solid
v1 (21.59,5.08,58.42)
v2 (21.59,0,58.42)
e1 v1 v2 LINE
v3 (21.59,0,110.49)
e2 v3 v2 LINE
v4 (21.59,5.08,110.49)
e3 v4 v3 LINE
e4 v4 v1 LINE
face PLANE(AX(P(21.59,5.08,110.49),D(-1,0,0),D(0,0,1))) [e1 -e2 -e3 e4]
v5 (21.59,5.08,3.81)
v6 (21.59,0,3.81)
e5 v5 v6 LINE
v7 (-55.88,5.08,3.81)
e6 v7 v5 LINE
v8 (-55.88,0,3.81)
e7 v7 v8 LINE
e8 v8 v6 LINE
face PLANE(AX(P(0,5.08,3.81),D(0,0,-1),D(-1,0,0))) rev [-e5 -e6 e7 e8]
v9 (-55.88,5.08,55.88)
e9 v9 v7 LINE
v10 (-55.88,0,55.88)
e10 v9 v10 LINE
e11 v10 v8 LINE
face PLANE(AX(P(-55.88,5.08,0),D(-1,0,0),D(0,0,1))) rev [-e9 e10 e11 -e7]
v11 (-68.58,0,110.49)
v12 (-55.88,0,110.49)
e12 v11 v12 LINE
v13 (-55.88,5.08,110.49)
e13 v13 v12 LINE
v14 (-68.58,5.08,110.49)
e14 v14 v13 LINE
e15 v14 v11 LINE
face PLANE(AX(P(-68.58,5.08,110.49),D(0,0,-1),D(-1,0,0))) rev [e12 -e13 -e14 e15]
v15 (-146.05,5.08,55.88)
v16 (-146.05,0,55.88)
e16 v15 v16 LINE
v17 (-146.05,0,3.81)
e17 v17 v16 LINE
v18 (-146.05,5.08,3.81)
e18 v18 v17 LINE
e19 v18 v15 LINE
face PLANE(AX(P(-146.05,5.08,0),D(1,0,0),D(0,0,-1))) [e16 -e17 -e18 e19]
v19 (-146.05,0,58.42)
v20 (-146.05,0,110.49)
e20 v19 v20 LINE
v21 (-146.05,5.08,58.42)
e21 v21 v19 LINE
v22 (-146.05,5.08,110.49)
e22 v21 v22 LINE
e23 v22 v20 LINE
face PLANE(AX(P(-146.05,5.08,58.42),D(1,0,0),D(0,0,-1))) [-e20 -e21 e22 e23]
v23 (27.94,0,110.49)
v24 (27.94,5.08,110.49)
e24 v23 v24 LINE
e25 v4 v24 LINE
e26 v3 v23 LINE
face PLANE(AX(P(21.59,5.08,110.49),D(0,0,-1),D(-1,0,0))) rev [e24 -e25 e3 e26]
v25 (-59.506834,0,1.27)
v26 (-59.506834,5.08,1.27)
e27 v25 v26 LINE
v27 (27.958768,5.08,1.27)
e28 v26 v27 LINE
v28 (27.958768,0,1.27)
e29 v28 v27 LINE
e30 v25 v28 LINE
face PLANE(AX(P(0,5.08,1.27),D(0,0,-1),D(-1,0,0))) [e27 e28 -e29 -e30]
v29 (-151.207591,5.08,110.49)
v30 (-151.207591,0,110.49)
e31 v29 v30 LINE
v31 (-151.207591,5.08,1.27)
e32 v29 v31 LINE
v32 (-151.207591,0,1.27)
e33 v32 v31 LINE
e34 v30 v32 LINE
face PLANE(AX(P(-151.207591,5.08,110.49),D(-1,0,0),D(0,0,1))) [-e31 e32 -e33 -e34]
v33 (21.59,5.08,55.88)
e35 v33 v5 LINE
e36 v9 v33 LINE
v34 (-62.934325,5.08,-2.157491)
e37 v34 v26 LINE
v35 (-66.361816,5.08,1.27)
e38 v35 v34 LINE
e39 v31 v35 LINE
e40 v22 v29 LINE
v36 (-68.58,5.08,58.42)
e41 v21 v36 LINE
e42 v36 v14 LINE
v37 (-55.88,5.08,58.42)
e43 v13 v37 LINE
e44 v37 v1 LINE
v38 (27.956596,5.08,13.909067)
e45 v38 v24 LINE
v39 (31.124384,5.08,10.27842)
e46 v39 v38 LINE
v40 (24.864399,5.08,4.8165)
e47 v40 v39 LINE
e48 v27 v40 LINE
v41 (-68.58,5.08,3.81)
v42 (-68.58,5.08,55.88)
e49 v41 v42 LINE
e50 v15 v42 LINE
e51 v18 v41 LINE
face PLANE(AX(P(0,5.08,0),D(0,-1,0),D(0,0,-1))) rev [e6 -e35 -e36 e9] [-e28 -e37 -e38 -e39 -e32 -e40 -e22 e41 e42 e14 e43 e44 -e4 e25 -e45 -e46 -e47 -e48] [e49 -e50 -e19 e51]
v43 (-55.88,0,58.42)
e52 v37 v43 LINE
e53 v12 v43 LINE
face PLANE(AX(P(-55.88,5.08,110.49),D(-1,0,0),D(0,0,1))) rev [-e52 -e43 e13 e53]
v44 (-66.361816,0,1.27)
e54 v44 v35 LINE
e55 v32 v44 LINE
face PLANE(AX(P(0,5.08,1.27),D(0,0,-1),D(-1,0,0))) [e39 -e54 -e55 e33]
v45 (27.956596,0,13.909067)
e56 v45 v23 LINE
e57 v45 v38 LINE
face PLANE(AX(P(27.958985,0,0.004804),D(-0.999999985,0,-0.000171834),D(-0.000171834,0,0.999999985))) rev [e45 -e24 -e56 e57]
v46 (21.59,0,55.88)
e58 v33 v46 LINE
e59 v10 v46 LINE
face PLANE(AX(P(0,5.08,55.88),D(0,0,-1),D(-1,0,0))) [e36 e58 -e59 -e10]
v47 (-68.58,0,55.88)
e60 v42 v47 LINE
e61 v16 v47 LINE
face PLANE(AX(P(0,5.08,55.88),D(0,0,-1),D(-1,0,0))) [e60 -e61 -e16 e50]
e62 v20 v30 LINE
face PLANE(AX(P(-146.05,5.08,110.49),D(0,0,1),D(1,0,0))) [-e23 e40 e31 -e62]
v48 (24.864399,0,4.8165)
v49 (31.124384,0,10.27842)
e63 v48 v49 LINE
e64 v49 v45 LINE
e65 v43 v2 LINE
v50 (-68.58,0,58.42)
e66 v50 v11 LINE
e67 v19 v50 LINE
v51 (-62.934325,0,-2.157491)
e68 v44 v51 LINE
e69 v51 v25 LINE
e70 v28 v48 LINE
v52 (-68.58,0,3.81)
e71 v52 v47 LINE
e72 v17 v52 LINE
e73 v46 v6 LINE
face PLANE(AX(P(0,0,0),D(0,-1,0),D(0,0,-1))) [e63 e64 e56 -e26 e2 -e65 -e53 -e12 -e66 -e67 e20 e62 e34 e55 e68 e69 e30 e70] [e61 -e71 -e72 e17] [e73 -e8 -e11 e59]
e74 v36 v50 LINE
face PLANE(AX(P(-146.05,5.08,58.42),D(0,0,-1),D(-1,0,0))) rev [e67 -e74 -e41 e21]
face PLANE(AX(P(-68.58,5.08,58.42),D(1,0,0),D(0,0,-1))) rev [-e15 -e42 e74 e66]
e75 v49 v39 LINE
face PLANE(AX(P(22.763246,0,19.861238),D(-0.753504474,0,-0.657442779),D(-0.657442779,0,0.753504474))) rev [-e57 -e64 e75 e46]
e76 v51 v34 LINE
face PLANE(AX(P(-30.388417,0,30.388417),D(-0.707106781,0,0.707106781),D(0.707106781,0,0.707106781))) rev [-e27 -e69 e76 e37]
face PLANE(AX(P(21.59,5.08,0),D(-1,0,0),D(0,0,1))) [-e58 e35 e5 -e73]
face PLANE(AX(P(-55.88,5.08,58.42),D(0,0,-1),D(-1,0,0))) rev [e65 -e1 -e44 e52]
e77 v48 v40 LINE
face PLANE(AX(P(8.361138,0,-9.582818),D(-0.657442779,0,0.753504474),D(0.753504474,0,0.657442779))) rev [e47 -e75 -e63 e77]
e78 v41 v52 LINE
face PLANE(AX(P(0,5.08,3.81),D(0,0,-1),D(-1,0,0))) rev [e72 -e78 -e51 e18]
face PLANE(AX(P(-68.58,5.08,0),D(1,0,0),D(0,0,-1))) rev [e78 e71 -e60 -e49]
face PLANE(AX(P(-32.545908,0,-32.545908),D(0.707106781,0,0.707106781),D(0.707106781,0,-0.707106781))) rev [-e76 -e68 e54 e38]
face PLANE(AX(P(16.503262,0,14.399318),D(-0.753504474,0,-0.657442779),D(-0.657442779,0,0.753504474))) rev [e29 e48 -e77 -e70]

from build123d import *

# Parameters (mm, degrees)
SKETCH1_W           = 77.47
SKETCH1_H           = 52.07
BOSS_EXTRUDE4_DEPTH = 5.08
CUT_EXTRUDE9_DEPTH  = 5.08
CUT_EXTRUDE10_DEPTH = 5.08


with BuildPart() as part:
    # Sketch1 → Boss-Extrude4 (new body)
    with BuildSketch(Plane(origin=(0, 0, 0), x_dir=(1, 0, 0), z_dir=(0, 1, 0))):
        Polygon((-151.207591036, -110.49), (-146.05, -110.49), (-146.05, -58.42), (-68.58, -58.42), (-68.58, -110.49), (-55.88, -110.49), (-55.88, -58.42), (21.59, -58.42), (21.59, -110.49), (34.29, -110.49), (34.29, -58.42), (111.76, -58.42), (111.76, -110.49), (151.052408964, -110.49), (151.052408964, 110.49), (-151.207591036, 110.49), align=None)
        with Locations((-107.315, -29.845)):
            Rectangle(SKETCH1_W, SKETCH1_H, mode=Mode.SUBTRACT)
        with Locations((-17.145, -29.845)):
            Rectangle(SKETCH1_W, SKETCH1_H, mode=Mode.SUBTRACT)
        with Locations((73.025, -29.845)):
            Rectangle(SKETCH1_W, SKETCH1_H, mode=Mode.SUBTRACT)
        with Locations((-107.315, 24.765)):
            Rectangle(SKETCH1_W, SKETCH1_H, mode=Mode.SUBTRACT)
        with Locations((-17.145, 24.765)):
            Rectangle(SKETCH1_W, SKETCH1_H, mode=Mode.SUBTRACT)
        with Locations((-107.315, 79.375)):
            Rectangle(SKETCH1_W, SKETCH1_H, mode=Mode.SUBTRACT)
        with Locations((-17.145, 79.375)):
            Rectangle(SKETCH1_W, SKETCH1_H, mode=Mode.SUBTRACT)
        with Locations((73.025, 24.765)):
            Rectangle(SKETCH1_W, SKETCH1_H, mode=Mode.SUBTRACT)
        with Locations((73.025, 79.375)):
            Rectangle(SKETCH1_W, SKETCH1_H, mode=Mode.SUBTRACT)
    extrude(amount=BOSS_EXTRUDE4_DEPTH)

    # Sketch8 → Cut-Extrude9 (cut)
    # profile 1 of 7: a face of its own
    with BuildSketch(Plane(origin=(0, 5.08, 0), x_dir=(1, 0, 0), z_dir=(0, 1, 0))):
        Polygon((118.11, 79.293589744), (111.76, 76.362820513), (111.76, 76.982301683), (113.79525641, 77.921063702), (113.79525641, 80.799679487), (111.76, 81.765154247), (111.76, 82.387179487), (118.11, 79.375), align=None)
        Polygon((116.872309696, 79.340655048), (114.446538462, 80.49057492), (114.446538462, 78.221264022), align=None, mode=Mode.SUBTRACT)
    # profile 2 of 7: a face of its own
    with BuildSketch(Plane(origin=(0, 5.08, 0), x_dir=(1, 0, 0), z_dir=(0, 1, 0))):
        with BuildLine():
            Line((118.11, 26.474615385), (118.11, 25.235653045))
            add(Edge.make_bspline(
                [(118.11, 25.235653045), (118.109681139, 25.175004234), (118.109063106, 25.057451746), (118.099477996, 24.886510758), (118.086408481, 24.726402202), (118.065671027, 24.577079644), (118.040648803, 24.438612083), (118.010346937, 24.310582227), (117.974012938, 24.193397201), (117.916234684, 24.053492664), (117.830376936, 23.893979465), (117.703506539, 23.721262382), (117.548326213, 23.573571833), (117.37327911, 23.4462338), (117.180718496, 23.344994626), (116.975233967, 23.271753187), (116.75947595, 23.225383899), (116.611351899, 23.220615168), (116.536492388, 23.218205128)],
                knots=[0, 0, 0, 0, 1.001505555, 1.941167018, 2.826882275, 3.653841531, 4.429895133, 5.150066043, 5.825578002, 6.45369114, 7.647487171, 8.808567382, 9.977351308, 11.170798116, 12.373658725, 13.556498008, 14.765093433, 16, 16, 16, 16], degree=3))
            add(Edge.make_bspline(
                [(116.536492388, 23.218205128), (116.466353726, 23.220150205), (116.328524642, 23.223972465), (116.12725909, 23.261767034), (115.934882118, 23.318037757), (115.753765338, 23.399726219), (115.586236491, 23.504802861), (115.433291194, 23.631250472), (115.29863595, 23.781802882), (115.223670167, 23.894781468), (115.185590946, 23.952169471)],
                knots=[0, 0, 0, 0, 1.044266239, 2.052081639, 3.041743201, 4.026043445, 5.00270663, 5.980942822, 6.97441044, 8, 8, 8, 8], degree=3))
            add(Edge.make_bspline(
                [(115.185590946, 23.952169471), (115.157917248, 23.880020614), (115.10497061, 23.741981978), (115.010852235, 23.551885993), (114.90963819, 23.387448746), (114.798522364, 23.248489243), (114.677253559, 23.131437365), (114.548260115, 23.026322349), (114.405191505, 22.938259533), (114.252121508, 22.862606152), (114.090124446, 22.803067733), (113.919941192, 22.760940396), (113.743474705, 22.735055197), (113.623194862, 22.731525492), (113.562473958, 22.72974359)],
                knots=[0, 0, 0, 0, 1.272302504, 2.434229863, 3.488457646, 4.447234501, 5.35599188, 6.26022912, 7.18267843, 8.11661068, 9.06895546, 10.019249207, 11.000057067, 12, 12, 12, 12], degree=3))
            add(Edge.make_bspline(
                [(113.562473958, 22.72974359), (113.500485842, 22.731516424), (113.378522486, 22.735004524), (113.199347436, 22.7607231), (113.028142769, 22.804311677), (112.863691196, 22.864204763), (112.70692357, 22.942816916), (112.555876508, 23.036423505), (112.414573802, 23.150354586), (112.279655118, 23.277346904), (112.158418428, 23.421179366), (112.05048411, 23.576340817), (111.961311987, 23.745062992), (111.887341532, 23.924729456), (111.830014808, 24.116534097), (111.790215937, 24.31976575), (111.763336967, 24.53446858), (111.761131196, 24.681807332), (111.76, 24.757367788)],
                knots=[0, 0, 0, 0, 0.978404568, 1.925038397, 2.85041836, 3.763147166, 4.682162379, 5.614488577, 6.562659439, 7.54271123, 8.535210642, 9.526693784, 10.520907202, 11.541451354, 12.589717429, 13.675358278, 14.807842563, 16, 16, 16, 16], degree=3))
            Line((111.76, 24.757367788), (111.76, 26.474615385))
            Line((111.76, 26.474615385), (118.11, 26.474615385))
        make_face()
        with BuildLine():
            Line((117.458717949, 25.90474359), (115.423461538, 25.90474359))
            Line((115.423461538, 25.90474359), (115.423461538, 25.521860978))
            add(Edge.make_bspline(
                [(115.423461538, 25.521860978), (115.424181075, 25.465891945), (115.425571367, 25.357748368), (115.429679415, 25.200723225), (115.440678409, 25.055331233), (115.452311659, 24.921071395), (115.470224485, 24.798843581), (115.49214475, 24.688238604), (115.515124768, 24.588262886), (115.554315522, 24.473021329), (115.611648095, 24.342338932), (115.702715767, 24.203911992), (115.808237502, 24.079896012), (115.932241327, 23.976344233), (116.067626032, 23.890895914), (116.214403686, 23.833871415), (116.366844139, 23.793424687), (116.471770578, 23.789877771), (116.525044071, 23.788076923)],
                knots=[0, 0, 0, 0, 1.156481963, 2.23455883, 3.244418989, 4.168404366, 5.01828131, 5.794834307, 6.498111525, 7.13526334, 8.307595709, 9.435046769, 10.546766856, 11.659452936, 12.760769924, 13.837671619, 14.902137667, 16, 16, 16, 16], degree=3))
            add(Edge.make_bspline(
                [(116.525044071, 23.788076923), (116.56030457, 23.788977603), (116.629471889, 23.790744385), (116.729913527, 23.8068242), (116.82558773, 23.830156168), (116.914294057, 23.866607821), (116.998553798, 23.910685404), (117.074624411, 23.96802234), (117.1466735, 24.032775181), (117.212055599, 24.108821091), (117.270638216, 24.195791849), (117.322185781, 24.294516129), (117.362847974, 24.406172748), (117.399324126, 24.528230019), (117.4246346, 24.66264136), (117.445797527, 24.808093389), (117.456555228, 24.965820019), (117.457980962, 25.074940101), (117.458717949, 25.131346154)],
                knots=[0, 0, 0, 0, 0.911752476, 1.788502045, 2.626783689, 3.45400582, 4.26402138, 5.080402872, 5.911472738, 6.767166405, 7.66795952, 8.620018292, 9.640966946, 10.73819047, 11.913090943, 13.176185384, 14.540321519, 16, 16, 16, 16], degree=3))
            Line((117.458717949, 25.131346154), (117.458717949, 25.90474359))
        make_face(mode=Mode.SUBTRACT)
        with BuildLine():
            Line((114.772179487, 25.90474359), (112.411282051, 25.90474359))
            Line((112.411282051, 25.90474359), (112.411282051, 25.093185096))
            add(Edge.make_bspline(
                [(112.411282051, 25.093185096), (112.411975847, 25.035093328), (112.413313047, 24.923129104), (112.417726104, 24.761477849), (112.427553327, 24.612056238), (112.443574322, 24.47477829), (112.460221531, 24.348435585), (112.483262073, 24.23428334), (112.509456384, 24.132146551), (112.549993321, 24.013731405), (112.612860676, 23.880302727), (112.708268617, 23.736613475), (112.820435778, 23.607586425), (112.95189156, 23.499274679), (113.093745082, 23.409835086), (113.245254404, 23.347105881), (113.401797428, 23.306771901), (113.508807295, 23.302005692), (113.562473958, 23.299615385)],
                knots=[0, 0, 0, 0, 1.159821618, 2.235403267, 3.228114831, 4.14795534, 4.994323282, 5.771256229, 6.471395042, 7.097801288, 8.267864287, 9.404187171, 10.531774336, 11.667624178, 12.792825787, 13.866573821, 14.930062559, 16, 16, 16, 16], degree=3))
            add(Edge.make_bspline(
                [(113.562473958, 23.299615385), (113.596030503, 23.300103956), (113.662602321, 23.301073218), (113.760357737, 23.31624054), (113.855472736, 23.337399943), (113.946509043, 23.368040578), (114.034948011, 23.406675936), (114.119249173, 23.455161844), (114.2014282, 23.511153881), (114.305201688, 23.598743929), (114.42480707, 23.726024945), (114.541892162, 23.906931894), (114.636322991, 24.112618706), (114.676417579, 24.261803289), (114.697129407, 24.338868189)],
                knots=[0, 0, 0, 0, 0.723503378, 1.435336582, 2.130201219, 2.824764462, 3.504949994, 4.209866579, 4.920640069, 5.648298893, 7.13757748, 8.670694625, 10.280166878, 12, 12, 12, 12], degree=3))
            add(Edge.make_bspline(
                [(114.697129407, 24.338868189), (114.703398338, 24.369763806), (114.716990673, 24.436751875), (114.731329404, 24.545986183), (114.744191712, 24.671110852), (114.753456167, 24.811591078), (114.763401398, 24.967985569), (114.767131466, 25.140244081), (114.771684212, 25.328488394), (114.772010172, 25.459103286), (114.772179487, 25.526949119)],
                knots=[0, 0, 0, 0, 0.634452549, 1.375623993, 2.216454381, 3.166361212, 4.209414599, 5.370755378, 6.634280627, 8, 8, 8, 8], degree=3))
            Line((114.772179487, 25.526949119), (114.772179487, 25.90474359))
        make_face(mode=Mode.SUBTRACT)
    # profile 3 of 7: a face of its own
    with BuildSketch(Plane(origin=(0, 5.08, 0), x_dir=(1, 0, 0), z_dir=(0, 1, 0))):
        with BuildLine():
            Line((116.944815705, -32.938589744), (116.563205128, -32.439951923))
            add(Edge.make_bspline(
                [(116.563205128, -32.439951923), (116.605597673, -32.40438124), (116.689811221, -32.333719444), (116.808065537, -32.220037748), (116.918855368, -32.10156191), (117.022708493, -31.978337218), (117.115993196, -31.848145673), (117.203570769, -31.714141081), (117.282070808, -31.574081771), (117.377253654, -31.380403623), (117.476578821, -31.127042527), (117.559860398, -30.808100462), (117.612875959, -30.475158898), (117.618617886, -30.248014681), (117.621538462, -30.132479968)],
                knots=[0, 0, 0, 0, 0.757959112, 1.505699292, 2.245454638, 2.979532153, 3.711538275, 4.438200793, 5.171680507, 5.909471876, 7.393775596, 8.890124382, 10.418191784, 12, 12, 12, 12], degree=3))
            add(Edge.make_bspline(
                [(117.621538462, -30.132479968), (117.620802251, -30.068829613), (117.619336663, -29.942119638), (117.600137483, -29.754060275), (117.572842033, -29.56915638), (117.533326202, -29.388095544), (117.481880175, -29.211237272), (117.421547717, -29.037234935), (117.346470096, -28.868137816), (117.263556886, -28.701910874), (117.169880198, -28.542661658), (117.067735433, -28.391952614), (116.958125128, -28.250472259), (116.84133222, -28.117828549), (116.715905207, -27.995476207), (116.58331959, -27.881454356), (116.441979536, -27.777817938), (116.294535759, -27.682020268), (116.140771545, -27.596777475), (115.9816542, -27.523166197), (115.817792087, -27.46007521), (115.648849522, -27.409690045), (115.475491338, -27.369948117), (115.297349628, -27.342492588), (115.114770175, -27.323466123), (114.991019157, -27.322014016), (114.928639824, -27.321282051)],
                knots=[0, 0, 0, 0, 1.055000685, 2.100209969, 3.131349012, 4.153242145, 5.170189196, 6.184191144, 7.204341339, 8.235672124, 9.263040994, 10.265373269, 11.252624173, 12.22887325, 13.193405896, 14.155809299, 15.126090485, 16.097288279, 17.069732292, 18.038585918, 19.002221264, 19.978698174, 20.959418239, 21.948869816, 22.966084182, 24, 24, 24, 24], degree=3))
            add(Edge.make_bspline(
                [(114.928639824, -27.321282051), (114.834784429, -27.323571352), (114.650511811, -27.328066089), (114.380599417, -27.368068066), (114.122026195, -27.428855875), (113.876408481, -27.519961279), (113.640717603, -27.632300128), (113.418941397, -27.774250951), (113.207728487, -27.938655241), (113.012070568, -28.12783883), (112.833338524, -28.335403668), (112.675948183, -28.55810345), (112.544748325, -28.795383515), (112.435571964, -29.044623973), (112.351649044, -29.307742779), (112.29256842, -29.584266778), (112.254029036, -29.873594541), (112.250339344, -30.071296166), (112.248461538, -30.171913061)],
                knots=[0, 0, 0, 0, 1.029171465, 2.020641659, 2.987623507, 3.938342917, 4.889210282, 5.84687017, 6.821220943, 7.821438502, 8.827599549, 9.822697543, 10.807740252, 11.797342354, 12.80366471, 13.83203677, 14.896651826, 16, 16, 16, 16], degree=3))
            add(Edge.make_bspline(
                [(112.248461538, -30.171913061), (112.251525467, -30.282770797), (112.257556013, -30.50096534), (112.308644936, -30.820947331), (112.391481444, -31.127263648), (112.507410532, -31.41993077), (112.658114697, -31.698123628), (112.840809417, -31.962277569), (113.057232535, -32.212615561), (113.222483354, -32.363149173), (113.306794872, -32.439951923)],
                knots=[0, 0, 0, 0, 1.028121516, 2.023589091, 2.998037872, 3.967518031, 4.937445131, 5.927275754, 6.942489185, 8, 8, 8, 8], degree=3))
            Line((113.306794872, -32.439951923), (112.929000401, -32.938589744))
            add(Edge.make_bspline(
                [(112.929000401, -32.938589744), (112.877223407, -32.898461226), (112.773917427, -32.818396404), (112.628282924, -32.688750355), (112.491292127, -32.552178781), (112.36407883, -32.407649584), (112.243987323, -32.256891333), (112.135043577, -32.097248498), (112.033928993, -31.93147842), (111.942568033, -31.758615962), (111.860652906, -31.579228654), (111.791497891, -31.393503181), (111.731069307, -31.20301302), (111.681684053, -31.007662239), (111.643076564, -30.806798224), (111.617282312, -30.601110145), (111.599606535, -30.390163816), (111.597995761, -30.247848605), (111.597179487, -30.175729167)],
                knots=[0, 0, 0, 0, 0.986756325, 1.968786143, 2.935506311, 3.899499537, 4.868307269, 5.8376204, 6.809456583, 7.792545619, 8.781780509, 9.778496008, 10.776623214, 11.79151764, 12.812666265, 13.856269958, 14.913646641, 16, 16, 16, 16], degree=3))
            add(Edge.make_bspline(
                [(111.597179487, -30.175729167), (111.597654817, -30.107432799), (111.598594721, -29.97238519), (111.613820511, -29.772997455), (111.634593605, -29.578887787), (111.665872129, -29.390610966), (111.702782574, -29.207139554), (111.752260425, -29.030136779), (111.807685342, -28.857860898), (111.872827246, -28.691004051), (111.946335178, -28.52942431), (112.029414149, -28.373642823), (112.121365532, -28.223731239), (112.220162479, -28.07821569), (112.328978441, -27.939245788), (112.446302192, -27.805617249), (112.571738298, -27.676580756), (112.662189246, -27.596747314), (112.707666266, -27.556608574)],
                knots=[0, 0, 0, 0, 1.114604814, 2.203992996, 3.262667896, 4.300477797, 5.318619304, 6.316056647, 7.298880507, 8.271930387, 9.238335007, 10.195173496, 11.151986948, 12.108099108, 13.064862484, 14.031167946, 15.010108607, 16, 16, 16, 16], degree=3))
            add(Edge.make_bspline(
                [(112.707666266, -27.556608574), (112.786662423, -27.492318192), (112.943701026, -27.364513598), (113.198219878, -27.200999858), (113.463955057, -27.061032151), (113.742302642, -26.947864409), (114.032638045, -26.859394879), (114.335107621, -26.798106139), (114.649428887, -26.758279657), (114.86321849, -26.753725276), (114.971889022, -26.751410256)],
                knots=[0, 0, 0, 0, 0.994628077, 1.977248131, 2.950237994, 3.925870899, 4.908910175, 5.911660606, 6.938484602, 8, 8, 8, 8], degree=3))
            add(Edge.make_bspline(
                [(114.971889022, -26.751410256), (115.086103424, -26.754244442), (115.310813128, -26.759820525), (115.640671219, -26.806804203), (115.956243845, -26.883302707), (116.258745252, -26.988641657), (116.546444643, -27.127611896), (116.820557094, -27.295846609), (117.080858784, -27.494989044), (117.324021732, -27.72253816), (117.546337205, -27.97213776), (117.741930009, -28.239412742), (117.904702809, -28.523860895), (118.040767384, -28.82234304), (118.145350881, -29.137095699), (118.218563099, -29.467446937), (118.264132722, -29.812776116), (118.269893457, -30.048383659), (118.272820513, -30.168096955)],
                knots=[0, 0, 0, 0, 1.032901378, 2.032168977, 3.007206631, 3.966850309, 4.924221947, 5.891988639, 6.871730993, 7.884084801, 8.900290346, 9.89161143, 10.874607481, 11.860025555, 12.854717796, 13.869097222, 14.917278314, 16, 16, 16, 16], degree=3))
            add(Edge.make_bspline(
                [(118.272820513, -30.168096955), (118.27194643, -30.24105764), (118.270216271, -30.385475968), (118.253322795, -30.599110851), (118.225211517, -30.807112405), (118.186697164, -31.009983654), (118.139491479, -31.208460249), (118.077695589, -31.40050597), (118.005935411, -31.587166578), (117.925394904, -31.768581871), (117.833318651, -31.942778105), (117.733314188, -32.109723579), (117.623073079, -32.267404402), (117.506239897, -32.418786561), (117.378444314, -32.560461963), (117.243848093, -32.696476823), (117.098457292, -32.822132675), (116.996123317, -32.89969966), (116.944815705, -32.938589744)],
                knots=[0, 0, 0, 0, 1.096705196, 2.170817488, 3.219277236, 4.250701065, 5.274195539, 6.284202015, 7.28098643, 8.279664616, 9.266225751, 10.241373748, 11.203306326, 12.157093976, 13.114198862, 14.069774147, 15.032234603, 16, 16, 16, 16], degree=3))
        make_face()
    # profile 4 of 7: a face of its own
    with BuildSketch(Plane(origin=(0, 5.08, 0), x_dir=(1, 0, 0), z_dir=(0, 1, 0))):
        with BuildLine():
            Line((111.76, -82.012692308), (118.11, -82.012692308))
            Line((118.11, -82.012692308), (118.11, -83.294903846))
            add(Edge.make_bspline(
                [(118.11, -83.294903846), (118.10919924, -83.406426385), (118.107652175, -83.62188735), (118.097786915, -83.933238257), (118.080511466, -84.220906485), (118.054862343, -84.484728674), (118.024076207, -84.725128674), (117.984923928, -84.941721457), (117.938878197, -85.134858028), (117.899605318, -85.253638066), (117.881033654, -85.309807692)],
                knots=[0, 0, 0, 0, 1.314317071, 2.539253741, 3.67075822, 4.709970291, 5.662644612, 6.526156501, 7.303037452, 8, 8, 8, 8], degree=3))
            add(Edge.make_bspline(
                [(117.881033654, -85.309807692), (117.853037914, -85.383276673), (117.797681284, -85.528548601), (117.693258165, -85.735390771), (117.574941266, -85.930107124), (117.44258475, -86.11375686), (117.2924032, -86.282089414), (117.130916153, -86.441891296), (116.951524797, -86.585988874), (116.760320009, -86.720164865), (116.555362101, -86.837571052), (116.340810785, -86.941109671), (116.117067511, -87.029513574), (115.882503759, -87.098492965), (115.639371325, -87.15548169), (115.385829701, -87.193719768), (115.123356971, -87.219119775), (114.945238152, -87.221659883), (114.854861779, -87.222948718)],
                knots=[0, 0, 0, 0, 0.98467389, 1.947018643, 2.898343565, 3.837828625, 4.779009928, 5.722093987, 6.681368302, 7.658573986, 8.646467994, 9.637429229, 10.641859304, 11.657149908, 12.698561448, 13.768651538, 14.867827761, 16, 16, 16, 16], degree=3))
            add(Edge.make_bspline(
                [(114.854861779, -87.222948718), (114.776373797, -87.221806822), (114.621705032, -87.219556598), (114.39375275, -87.199375846), (114.172580583, -87.169987158), (113.959159893, -87.124695693), (113.752052982, -87.069043404), (113.552243376, -87.000351318), (113.359584615, -86.918944546), (113.175646042, -86.82449634), (113.000731948, -86.721221421), (112.837852299, -86.607986514), (112.683909336, -86.491289421), (112.545846691, -86.362132049), (112.415768103, -86.229414775), (112.300701958, -86.08609986), (112.195636064, -85.936856417), (112.101337325, -85.778809783), (112.019522725, -85.608171823), (111.94943361, -85.422613554), (111.891722261, -85.221141181), (111.843495333, -85.004063511), (111.805260876, -84.770955192), (111.779629867, -84.521602395), (111.762298604, -84.256383924), (111.760781079, -84.074267288), (111.76, -83.980530849)],
                knots=[0, 0, 0, 0, 1.105818345, 2.179130549, 3.222742436, 4.24813173, 5.251184997, 6.243232575, 7.223185975, 8.195898781, 9.155064964, 10.083206407, 10.990357329, 11.874224667, 12.744762365, 13.607037788, 14.46074101, 15.315384698, 16.197310979, 17.123950979, 18.107232398, 19.148086642, 20.256146639, 21.433991621, 22.679261309, 24, 24, 24, 24], degree=3))
            Line((111.76, -83.980530849), (111.76, -82.012692308))
        make_face()
        with BuildLine():
            Line((112.411282051, -82.582564103), (112.411282051, -83.311440304))
            add(Edge.make_bspline(
                [(112.411282051, -83.311440304), (112.411732169, -83.416176063), (112.41259791, -83.617621283), (112.420194693, -83.907286506), (112.432607922, -84.171953411), (112.449979849, -84.411659579), (112.472964337, -84.626269665), (112.498590946, -84.816232183), (112.53051775, -84.980924438), (112.559457347, -85.08058213), (112.572830529, -85.126634615)],
                knots=[0, 0, 0, 0, 1.375205317, 2.645023457, 3.804390687, 4.853969522, 5.800190428, 6.637939096, 7.370582563, 8, 8, 8, 8], degree=3))
            add(Edge.make_bspline(
                [(112.572830529, -85.126634615), (112.593242549, -85.184599298), (112.633579048, -85.299144178), (112.707184232, -85.464010709), (112.794265109, -85.61784952), (112.891632722, -85.763227177), (113.000795015, -85.899202305), (113.122082386, -86.02517169), (113.254153497, -86.142030641), (113.397503093, -86.248500834), (113.551204387, -86.34363756), (113.713300631, -86.426559757), (113.883400607, -86.496918019), (114.062117399, -86.554129451), (114.249282549, -86.598465023), (114.444403664, -86.63000926), (114.647541614, -86.649619319), (114.785702691, -86.651909464), (114.856133814, -86.653076923)],
                knots=[0, 0, 0, 0, 0.998463025, 1.973077781, 2.929496817, 3.867873318, 4.813809365, 5.759268434, 6.706333209, 7.676553387, 8.657505312, 9.640584699, 10.632319813, 11.645628493, 12.686877747, 13.755137172, 14.855624085, 16, 16, 16, 16], degree=3))
            add(Edge.make_bspline(
                [(114.856133814, -86.653076923), (114.930398398, -86.652144681), (115.07629183, -86.650313282), (115.290366967, -86.627332533), (115.49623045, -86.593678155), (115.694030492, -86.545268959), (115.88350975, -86.482728451), (116.065738702, -86.407893664), (116.238372234, -86.317032486), (116.402872487, -86.214168026), (116.556748208, -86.098683831), (116.698196661, -85.971092184), (116.827481331, -85.832738462), (116.94480806, -85.684260293), (117.048090353, -85.523581703), (117.139968669, -85.353421689), (117.218033951, -85.17138332), (117.259539698, -85.044720759), (117.280633013, -84.980350561)],
                knots=[0, 0, 0, 0, 1.122272916, 2.204715076, 3.251197285, 4.274229216, 5.279697671, 6.265416158, 7.248880903, 8.225321784, 9.195852973, 10.153576302, 11.101466393, 12.055578741, 13.010401466, 13.985536859, 14.976245305, 16, 16, 16, 16], degree=3))
            add(Edge.make_bspline(
                [(117.280633013, -84.980350561), (117.295358532, -84.927099195), (117.326669026, -84.813872182), (117.36082363, -84.629106297), (117.390948936, -84.421161669), (117.416454236, -84.189115068), (117.434755519, -83.933231006), (117.448492047, -83.653312687), (117.457756937, -83.349239119), (117.458389591, -83.138450807), (117.458717949, -83.029048478)],
                knots=[0, 0, 0, 0, 0.674548936, 1.434276114, 2.292660221, 3.240891867, 4.284742987, 5.42552168, 6.663806718, 8, 8, 8, 8], degree=3))
            Line((117.458717949, -83.029048478), (117.458717949, -82.582564103))
            Line((117.458717949, -82.582564103), (112.411282051, -82.582564103))
        make_face(mode=Mode.SUBTRACT)
    # profile 5 of 7: a face of its own
    with BuildSketch(Plane(origin=(0, 5.08, 0), x_dir=(1, 0, 0), z_dir=(0, 1, 0))):
        with BuildLine():
            Line((-108.006987179, 107.852307692), (-108.291923077, 107.852307692))
            add(Edge.make_bspline(
                [(-108.291923077, 107.852307692), (-108.284203699, 107.884268588), (-108.269112946, 107.946749526), (-108.23763729, 108.03601897), (-108.203347966, 108.120495307), (-108.162173564, 108.198596746), (-108.117262051, 108.271892893), (-108.065806439, 108.338721313), (-108.010180691, 108.400781646), (-107.948653773, 108.455857226), (-107.884129915, 108.50572988), (-107.815699939, 108.548252254), (-107.7447406, 108.584832021), (-107.670760258, 108.614967517), (-107.593538659, 108.637669242), (-107.513773929, 108.654140059), (-107.43125704, 108.664836284), (-107.375243154, 108.66588019), (-107.346800881, 108.666410256)],
                knots=[0, 0, 0, 0, 1.162005537, 2.271625781, 3.343758855, 4.383309926, 5.390229558, 6.379919256, 7.361854164, 8.333198761, 9.295911338, 10.242430842, 11.177959212, 12.116337295, 13.062827104, 14.020064771, 14.994644689, 16, 16, 16, 16], degree=3))
            add(Edge.make_bspline(
                [(-107.346800881, 108.666410256), (-107.305360108, 108.665159098), (-107.223382505, 108.662684071), (-107.102947456, 108.640083118), (-106.986808841, 108.604318891), (-106.876237881, 108.554903438), (-106.773532588, 108.493954947), (-106.682150476, 108.421415507), (-106.603330184, 108.338684712), (-106.53720457, 108.247305886), (-106.485429392, 108.14964696), (-106.447251039, 108.049135389), (-106.424008514, 107.9460096), (-106.420996295, 107.876379783), (-106.419487179, 107.841495393)],
                knots=[0, 0, 0, 0, 1.083050992, 2.142477498, 3.193116406, 4.255571735, 5.30263384, 6.308962982, 7.297363603, 8.282367274, 9.249857812, 10.179914175, 11.08814088, 12, 12, 12, 12], degree=3))
            add(Edge.make_bspline(
                [(-106.419487179, 107.841495393), (-106.420542723, 107.807924943), (-106.422608257, 107.742232783), (-106.44014669, 107.646328282), (-106.469661729, 107.555939116), (-106.510546442, 107.470684776), (-106.563470562, 107.391105814), (-106.627580795, 107.317023185), (-106.703329638, 107.248108306), (-106.760732674, 107.208629927), (-106.790285457, 107.188305288)],
                knots=[0, 0, 0, 0, 1.024540389, 2.004866551, 2.965041327, 3.920577974, 4.882998113, 5.874504559, 6.905732034, 8, 8, 8, 8], degree=3))
            add(Edge.make_bspline(
                [(-106.790285457, 107.188305288), (-106.756510937, 107.171996519), (-106.689593843, 107.139684128), (-106.598380149, 107.076314977), (-106.515578076, 107.003148148), (-106.469401131, 106.94605017), (-106.44619992, 106.917361779)],
                knots=[0, 0, 0, 0, 1.015518401, 2.012035669, 3.001164323, 4, 4, 4, 4], degree=3))
            add(Edge.make_bspline(
                [(-106.44619992, 106.917361779), (-106.430922416, 106.896445104), (-106.400617589, 106.85495428), (-106.363211069, 106.788246236), (-106.329275659, 106.720798814), (-106.302832245, 106.65080421), (-106.282354523, 106.57907369), (-106.267716837, 106.505484088), (-106.258623509, 106.429975311), (-106.257321258, 106.378891847), (-106.256666667, 106.353214143)],
                knots=[0, 0, 0, 0, 1.025084078, 2.033381695, 3.024893161, 4.013698104, 4.991890475, 5.976764909, 6.982997093, 8, 8, 8, 8], degree=3))
            add(Edge.make_bspline(
                [(-106.256666667, 106.353214143), (-106.258294547, 106.308755324), (-106.261542646, 106.220046911), (-106.290574914, 106.088987699), (-106.335581211, 105.960875994), (-106.399495717, 105.838343818), (-106.477389814, 105.723698758), (-106.570061101, 105.621122392), (-106.676456629, 105.532949372), (-106.795116039, 105.459280094), (-106.923673719, 105.400390265), (-107.061174435, 105.359516727), (-107.205636984, 105.332895713), (-107.304703604, 105.330041054), (-107.355069111, 105.328589744)],
                knots=[0, 0, 0, 0, 0.955779014, 1.907060117, 2.875433937, 3.871313158, 4.872415639, 5.851225146, 6.836215519, 7.83643374, 8.849228613, 9.86973379, 10.916971861, 12, 12, 12, 12], degree=3))
            add(Edge.make_bspline(
                [(-107.355069111, 105.328589744), (-107.389013762, 105.329377337), (-107.455805515, 105.330927058), (-107.553997832, 105.341521218), (-107.647725373, 105.36087058), (-107.737114866, 105.386908578), (-107.82224572, 105.419921087), (-107.902858158, 105.46103162), (-107.979448133, 105.509392769), (-108.051292896, 105.565575381), (-108.118383883, 105.628423453), (-108.17893814, 105.699052698), (-108.233965237, 105.776157486), (-108.281991774, 105.860633401), (-108.325205295, 105.951388741), (-108.36074802, 106.049585593), (-108.392031357, 106.154346099), (-108.406576, 106.227350906), (-108.414038462, 106.264807692)],
                knots=[0, 0, 0, 0, 1.048658725, 2.063410685, 3.046034179, 4.001477787, 4.936774919, 5.862367409, 6.792675028, 7.730719943, 8.675894397, 9.627829632, 10.600096036, 11.597688215, 12.626045268, 13.701542398, 14.82072376, 16, 16, 16, 16], degree=3))
            Line((-108.414038462, 106.264807692), (-108.129102564, 106.264807692))
            add(Edge.make_bspline(
                [(-108.129102564, 106.264807692), (-108.12167915, 106.240361087), (-108.107239964, 106.192810317), (-108.082661565, 106.124375183), (-108.054659633, 106.061638949), (-108.024619997, 106.004141403), (-107.993070978, 105.951316295), (-107.957769582, 105.904560456), (-107.921330429, 105.861820237), (-107.89386273, 105.837740482), (-107.880419671, 105.825955529)],
                knots=[0, 0, 0, 0, 1.198163088, 2.33053128, 3.407730985, 4.417276592, 5.372219308, 6.28897303, 7.162600585, 8, 8, 8, 8], degree=3))
            add(Edge.make_bspline(
                [(-107.880419671, 105.825955529), (-107.862642777, 105.812250112), (-107.827143861, 105.784881583), (-107.769296966, 105.749955106), (-107.708459534, 105.71969189), (-107.643313365, 105.696574537), (-107.575264252, 105.677000516), (-107.503212285, 105.664191188), (-107.427793138, 105.655402633), (-107.376296667, 105.654627088), (-107.34998097, 105.654230769)],
                knots=[0, 0, 0, 0, 0.946170439, 1.889420265, 2.845303464, 3.807233317, 4.801018734, 5.828864929, 6.890507805, 8, 8, 8, 8], degree=3))
            add(Edge.make_bspline(
                [(-107.34998097, 105.654230769), (-107.320268864, 105.654789483), (-107.262169405, 105.655882), (-107.177392497, 105.665929249), (-107.096740741, 105.680561838), (-107.021109587, 105.703161472), (-106.949508341, 105.731084102), (-106.882940702, 105.766143727), (-106.820532806, 105.807277867), (-106.763083988, 105.854031247), (-106.711426277, 105.905213603), (-106.665942576, 105.958746889), (-106.627275919, 106.014405392), (-106.596085101, 106.072497116), (-106.571455674, 106.132781502), (-106.55468877, 106.195427726), (-106.54303061, 106.259923103), (-106.542081183, 106.303764382), (-106.541602564, 106.325865385)],
                knots=[0, 0, 0, 0, 1.217147791, 2.380027433, 3.494444702, 4.572153297, 5.609568379, 6.639424714, 7.649109417, 8.668170816, 9.669597737, 10.625200337, 11.543417969, 12.441394052, 13.322311151, 14.205496177, 15.095365482, 16, 16, 16, 16], degree=3))
            add(Edge.make_bspline(
                [(-106.541602564, 106.325865385), (-106.542990766, 106.355448528), (-106.545760263, 106.414467612), (-106.566904474, 106.501297126), (-106.601683301, 106.584956936), (-106.650371936, 106.664019688), (-106.709640776, 106.737294971), (-106.778914656, 106.802674101), (-106.858768834, 106.856621969), (-106.93226543, 106.893895251), (-106.997366679, 106.919328883), (-107.053079206, 106.936269744), (-107.115451268, 106.950614988), (-107.183728599, 106.96396112), (-107.258425659, 106.975319772), (-107.339461128, 106.984791991), (-107.426851426, 106.992371206), (-107.487349841, 106.995755843), (-107.518525641, 106.9975)],
                knots=[0, 0, 0, 0, 1.07054697, 2.135767047, 3.216561865, 4.33974944, 5.486079747, 6.621378074, 7.775625952, 8.963672916, 9.598146892, 10.304877434, 11.070270905, 11.915000392, 12.823868403, 13.805723172, 14.86925407, 16, 16, 16, 16], degree=3))
            Line((-107.518525641, 106.9975), (-107.518525641, 107.323141026))
            add(Edge.make_bspline(
                [(-107.518525641, 107.323141026), (-107.479245298, 107.323807598), (-107.402304755, 107.325113248), (-107.289914921, 107.340904801), (-107.182442702, 107.36274937), (-107.082269872, 107.396209509), (-106.990967111, 107.435071778), (-106.911755757, 107.480294854), (-106.84574556, 107.530563948), (-106.793257302, 107.586654958), (-106.753770073, 107.64681218), (-106.724898621, 107.709510862), (-106.707844039, 107.775300546), (-106.705567413, 107.82019928), (-106.704423077, 107.842767428)],
                knots=[0, 0, 0, 0, 1.321986639, 2.589447074, 3.816329219, 5.01088745, 6.139805852, 7.153945165, 8.075214402, 8.924034688, 9.728124013, 10.488707548, 11.240355623, 12, 12, 12, 12], degree=3))
            add(Edge.make_bspline(
                [(-106.704423077, 107.842767428), (-106.704799007, 107.859347954), (-106.705546902, 107.892334124), (-106.714978718, 107.94052615), (-106.729151955, 107.987244866), (-106.748637138, 108.032291594), (-106.774717676, 108.075353913), (-106.80592882, 108.116798956), (-106.84309274, 108.156390099), (-106.885678967, 108.19329296), (-106.931409676, 108.228462197), (-106.981529114, 108.258319567), (-107.034526101, 108.283851159), (-107.090459309, 108.304905493), (-107.149510255, 108.320743562), (-107.211401489, 108.332115361), (-107.27625103, 108.339225234), (-107.320493959, 108.340248868), (-107.342984776, 108.340769231)],
                knots=[0, 0, 0, 0, 0.884392785, 1.759457502, 2.611959086, 3.489218968, 4.37281399, 5.2945488, 6.255912374, 7.266815255, 8.301784654, 9.332968512, 10.37626691, 11.440494194, 12.520033166, 13.637162961, 14.798855837, 16, 16, 16, 16], degree=3))
            add(Edge.make_bspline(
                [(-107.342984776, 108.340769231), (-107.379135932, 108.339507067), (-107.449747547, 108.337041767), (-107.551542508, 108.315449033), (-107.646175046, 108.280997486), (-107.718509408, 108.239873961), (-107.771924315, 108.199278925), (-107.810094109, 108.163825617), (-107.847577715, 108.124425841), (-107.88190915, 108.078652887), (-107.916629115, 108.029606584), (-107.94823811, 107.974793673), (-107.978953688, 107.915643972), (-107.997461715, 107.873828647), (-108.006987179, 107.852307692)],
                knots=[0, 0, 0, 0, 1.472543308, 2.876219568, 4.221790263, 5.565193594, 6.249813518, 6.953379497, 7.687249741, 8.463570142, 9.283606569, 10.136032583, 11.040678096, 12, 12, 12, 12], degree=3))
        make_face()
    # profile 6 of 7: a face of its own
    with BuildSketch(Plane(origin=(0, 5.08, 0), x_dir=(1, 0, 0), z_dir=(0, 1, 0))):
        with BuildLine():
            Line((-17.836987179, 107.608076923), (-18.121923077, 107.608076923))
            add(Edge.make_bspline(
                [(-18.121923077, 107.608076923), (-18.120066017, 107.645878371), (-18.1164188, 107.720119409), (-18.099338852, 107.828363239), (-18.074899627, 107.931827235), (-18.040345237, 108.029680657), (-17.997431685, 108.122788718), (-17.945969446, 108.210781589), (-17.885015024, 108.293323596), (-17.81588463, 108.369649547), (-17.74080165, 108.4396697), (-17.659788405, 108.500135528), (-17.574657559, 108.551223701), (-17.48566739, 108.593933113), (-17.391813879, 108.625991402), (-17.293948715, 108.649778175), (-17.191641927, 108.664089574), (-17.12193705, 108.665627894), (-17.086486378, 108.666410256)],
                knots=[0, 0, 0, 0, 1.10065271, 2.161652631, 3.183658789, 4.190468796, 5.17591951, 6.163126047, 7.15150782, 8.156236427, 9.156009102, 10.134482811, 11.092018607, 12.041330605, 13.001268258, 13.972401359, 14.968799086, 16, 16, 16, 16], degree=3))
            add(Edge.make_bspline(
                [(-17.086486378, 108.666410256), (-17.051671982, 108.665595228), (-16.983262938, 108.663993726), (-16.883420968, 108.650240507), (-16.788372994, 108.628699863), (-16.698304806, 108.598478021), (-16.613935018, 108.557852148), (-16.534629828, 108.509050095), (-16.459445093, 108.452607819), (-16.391766082, 108.386156146), (-16.329619467, 108.315215411), (-16.276005278, 108.239479956), (-16.230091909, 108.161257675), (-16.191821656, 108.079952092), (-16.163649302, 107.994797659), (-16.142260499, 107.907034125), (-16.13017063, 107.815753047), (-16.128315139, 107.753970671), (-16.127371795, 107.722560096)],
                knots=[0, 0, 0, 0, 1.111607364, 2.184268762, 3.212621178, 4.221274766, 5.211760367, 6.196651075, 7.1921475, 8.207485113, 9.220403448, 10.201281604, 11.166441695, 12.114753415, 13.065576456, 14.026450734, 14.996634279, 16, 16, 16, 16], degree=3))
            add(Edge.make_bspline(
                [(-16.127371795, 107.722560096), (-16.128907826, 107.678338846), (-16.131952934, 107.590672367), (-16.158000975, 107.461844598), (-16.198683167, 107.337027711), (-16.247666484, 107.236573158), (-16.297080773, 107.155625632), (-16.341610154, 107.088979021), (-16.393738947, 107.01721906), (-16.45422587, 106.940586047), (-16.52181969, 106.858479726), (-16.597132653, 106.770949697), (-16.680701811, 106.678900306), (-16.739356308, 106.616030225), (-16.769749599, 106.583452524)],
                knots=[0, 0, 0, 0, 1.184426356, 2.348067706, 3.509069118, 4.696110526, 5.333549288, 6.050745305, 6.844228056, 7.710549037, 8.667450064, 9.695053472, 10.805634456, 12, 12, 12, 12], degree=3))
            Line((-16.769749599, 106.583452524), (-17.564135617, 105.735641026))
            Line((-17.564135617, 105.735641026), (-16.086666667, 105.735641026))
            Line((-16.086666667, 105.735641026), (-16.086666667, 105.41))
            Line((-16.086666667, 105.41), (-18.244038462, 105.41))
            Line((-18.244038462, 105.41), (-17.012708333, 106.72401242))
            add(Edge.make_bspline(
                [(-17.012708333, 106.72401242), (-16.982729179, 106.755307312), (-16.925145359, 106.815418396), (-16.843699735, 106.903178081), (-16.770548653, 106.984593736), (-16.70521859, 107.059511533), (-16.649126767, 107.129027313), (-16.599349814, 107.190889651), (-16.559466742, 107.247816902), (-16.516182061, 107.313803031), (-16.474259378, 107.39436849), (-16.438234598, 107.492824051), (-16.416268271, 107.59417663), (-16.413633171, 107.662667764), (-16.412307692, 107.697119391)],
                knots=[0, 0, 0, 0, 1.329631726, 2.553950428, 3.673215718, 4.687767853, 5.603093632, 6.413772471, 7.123043292, 7.734684054, 8.834405432, 9.900288307, 10.943827018, 12, 12, 12, 12], degree=3))
            add(Edge.make_bspline(
                [(-16.412307692, 107.697119391), (-16.412884401, 107.718783231), (-16.414020984, 107.7614785), (-16.424051896, 107.824076581), (-16.439210712, 107.884460376), (-16.460932482, 107.942815624), (-16.48960431, 107.998555608), (-16.524505162, 108.051748179), (-16.564773291, 108.103173169), (-16.611356228, 108.151390804), (-16.662529535, 108.195551612), (-16.716590033, 108.234671318), (-16.773785485, 108.26736394), (-16.833874739, 108.294164112), (-16.896690271, 108.315187494), (-16.962353576, 108.329754919), (-17.030683219, 108.338901173), (-17.077340748, 108.340138671), (-17.101114784, 108.340769231)],
                knots=[0, 0, 0, 0, 0.991446411, 1.95395049, 2.89581595, 3.838931463, 4.798493298, 5.75982156, 6.748411868, 7.785213223, 8.824556874, 9.840280684, 10.836137867, 11.835679398, 12.848801643, 13.863922112, 14.911575587, 16, 16, 16, 16], degree=3))
            add(Edge.make_bspline(
                [(-17.101114784, 108.340769231), (-17.125944039, 108.340120594), (-17.174704597, 108.33884678), (-17.246295434, 108.32993622), (-17.314590389, 108.314563922), (-17.379761259, 108.293539367), (-17.441918311, 108.266816255), (-17.500759266, 108.233531601), (-17.556152029, 108.193813718), (-17.608200733, 108.148782642), (-17.656155914, 108.098647032), (-17.698289865, 108.042757994), (-17.735105364, 107.982135982), (-17.767226597, 107.916944568), (-17.793312116, 107.846592211), (-17.813244903, 107.77132865), (-17.829017256, 107.691480682), (-17.834286414, 107.636339927), (-17.836987179, 107.608076923)],
                knots=[0, 0, 0, 0, 1.031018746, 2.02475058, 2.990194455, 3.934040569, 4.864654155, 5.795059489, 6.735614925, 7.690564532, 8.649604399, 9.611025574, 10.590972636, 11.591080095, 12.624614302, 13.701020113, 14.821632451, 16, 16, 16, 16], degree=3))
        make_face()
    # profile 7 of 7: a face of its own
    with BuildSketch(Plane(origin=(0, 5.08, 0), x_dir=(1, 0, 0), z_dir=(0, 1, 0))):
        Polygon((72.600776242, 108.585), (73.187820513, 108.585), (73.187820513, 105.41), (72.902884615, 105.41), (72.902884615, 108.259358974), (72.414423077, 108.259358974), align=None)
    extrude(amount=-CUT_EXTRUDE9_DEPTH, mode=Mode.SUBTRACT)


with BuildPart() as cut_extrude9_piece_1:
    # of the separate pieces the step leaves, piece 1, a body of its own (cut_extrude9_pieces)
    add(part.part.solids().sort_by_distance((151.052408964, 0, -110.49))[0])


with BuildPart() as cut_extrude9_piece_2:
    # of the separate pieces the step leaves, piece 2, a body of its own (cut_extrude9_pieces)
    add(part.part.solids().sort_by_distance((117.458717949, 0, 82.582564103))[0])


with BuildPart() as cut_extrude9_piece_3:
    # of the separate pieces the step leaves, piece 3, a body of its own (cut_extrude9_pieces)
    add(part.part.solids().sort_by_distance((111.76, 0, -81.765154247))[0])


with BuildPart() as cut_extrude9_piece_4:
    # of the separate pieces the step leaves, piece 4, a body of its own (cut_extrude9_pieces)
    add(part.part.solids().sort_by_distance((114.772179487, 0, -25.526949119))[0])


with BuildPart() as cut_extrude9_piece_5:
    # of the separate pieces the step leaves, piece 5, a body of its own (cut_extrude9_pieces)
    add(part.part.solids().sort_by_distance((117.458717949, 0, -25.131346154))[0])


with BuildPart() as cut_extrude9_piece_6:
    # of the separate pieces the step leaves, piece 6, a body of its own (cut_extrude9_pieces)
    add(part.part.solids().sort_by_distance((114.446538462, 0, -78.221264022))[0])


with BuildPart() as cut_extrude10_tool:
    # Sketch9 → Cut-Extrude10 (new body)
    with BuildSketch(Plane(origin=(0, 5.08, 0), x_dir=(1, 0, 0), z_dir=(0, 1, 0))):
        Polygon((151.052408964, -110.49), (151.052408964, 110.49), (-151.207591036, 110.49), (-151.207591036, -1.27), (-66.361816431, -1.27), (-62.934325445, 2.157490986), (-59.506834459, -1.27), (27.958767714, -1.27), (24.86439919, -4.816499558), (31.124383857, -10.278420307), (27.956595892, -13.909066924), (27.94, -110.49), align=None)
    extrude(amount=-CUT_EXTRUDE10_DEPTH)


with BuildPart() as cut_extrude9_piece_1_1:
    add(cut_extrude9_piece_1.part)

    # Cut-Extrude10: cut by cut_extrude10_tool
    add(cut_extrude10_tool.part, mode=Mode.SUBTRACT)


with BuildPart() as cut_extrude9_piece_2_1:
    add(cut_extrude9_piece_2.part)

    # Cut-Extrude10: cut by cut_extrude10_tool
    add(cut_extrude10_tool.part, mode=Mode.SUBTRACT)


with BuildPart() as cut_extrude9_piece_3_1:
    add(cut_extrude9_piece_3.part)

    # Cut-Extrude10: cut by cut_extrude10_tool
    add(cut_extrude10_tool.part, mode=Mode.SUBTRACT)


with BuildPart() as cut_extrude9_piece_4_1:
    add(cut_extrude9_piece_4.part)

    # Cut-Extrude10: cut by cut_extrude10_tool
    add(cut_extrude10_tool.part, mode=Mode.SUBTRACT)


with BuildPart() as cut_extrude9_piece_5_1:
    add(cut_extrude9_piece_5.part)

    # Cut-Extrude10: cut by cut_extrude10_tool
    add(cut_extrude10_tool.part, mode=Mode.SUBTRACT)


with BuildPart() as cut_extrude9_piece_6_1:
    add(cut_extrude9_piece_6.part)

    # Cut-Extrude10: cut by cut_extrude10_tool
    add(cut_extrude10_tool.part, mode=Mode.SUBTRACT)


solid = cut_extrude9_piece_1_1.part
